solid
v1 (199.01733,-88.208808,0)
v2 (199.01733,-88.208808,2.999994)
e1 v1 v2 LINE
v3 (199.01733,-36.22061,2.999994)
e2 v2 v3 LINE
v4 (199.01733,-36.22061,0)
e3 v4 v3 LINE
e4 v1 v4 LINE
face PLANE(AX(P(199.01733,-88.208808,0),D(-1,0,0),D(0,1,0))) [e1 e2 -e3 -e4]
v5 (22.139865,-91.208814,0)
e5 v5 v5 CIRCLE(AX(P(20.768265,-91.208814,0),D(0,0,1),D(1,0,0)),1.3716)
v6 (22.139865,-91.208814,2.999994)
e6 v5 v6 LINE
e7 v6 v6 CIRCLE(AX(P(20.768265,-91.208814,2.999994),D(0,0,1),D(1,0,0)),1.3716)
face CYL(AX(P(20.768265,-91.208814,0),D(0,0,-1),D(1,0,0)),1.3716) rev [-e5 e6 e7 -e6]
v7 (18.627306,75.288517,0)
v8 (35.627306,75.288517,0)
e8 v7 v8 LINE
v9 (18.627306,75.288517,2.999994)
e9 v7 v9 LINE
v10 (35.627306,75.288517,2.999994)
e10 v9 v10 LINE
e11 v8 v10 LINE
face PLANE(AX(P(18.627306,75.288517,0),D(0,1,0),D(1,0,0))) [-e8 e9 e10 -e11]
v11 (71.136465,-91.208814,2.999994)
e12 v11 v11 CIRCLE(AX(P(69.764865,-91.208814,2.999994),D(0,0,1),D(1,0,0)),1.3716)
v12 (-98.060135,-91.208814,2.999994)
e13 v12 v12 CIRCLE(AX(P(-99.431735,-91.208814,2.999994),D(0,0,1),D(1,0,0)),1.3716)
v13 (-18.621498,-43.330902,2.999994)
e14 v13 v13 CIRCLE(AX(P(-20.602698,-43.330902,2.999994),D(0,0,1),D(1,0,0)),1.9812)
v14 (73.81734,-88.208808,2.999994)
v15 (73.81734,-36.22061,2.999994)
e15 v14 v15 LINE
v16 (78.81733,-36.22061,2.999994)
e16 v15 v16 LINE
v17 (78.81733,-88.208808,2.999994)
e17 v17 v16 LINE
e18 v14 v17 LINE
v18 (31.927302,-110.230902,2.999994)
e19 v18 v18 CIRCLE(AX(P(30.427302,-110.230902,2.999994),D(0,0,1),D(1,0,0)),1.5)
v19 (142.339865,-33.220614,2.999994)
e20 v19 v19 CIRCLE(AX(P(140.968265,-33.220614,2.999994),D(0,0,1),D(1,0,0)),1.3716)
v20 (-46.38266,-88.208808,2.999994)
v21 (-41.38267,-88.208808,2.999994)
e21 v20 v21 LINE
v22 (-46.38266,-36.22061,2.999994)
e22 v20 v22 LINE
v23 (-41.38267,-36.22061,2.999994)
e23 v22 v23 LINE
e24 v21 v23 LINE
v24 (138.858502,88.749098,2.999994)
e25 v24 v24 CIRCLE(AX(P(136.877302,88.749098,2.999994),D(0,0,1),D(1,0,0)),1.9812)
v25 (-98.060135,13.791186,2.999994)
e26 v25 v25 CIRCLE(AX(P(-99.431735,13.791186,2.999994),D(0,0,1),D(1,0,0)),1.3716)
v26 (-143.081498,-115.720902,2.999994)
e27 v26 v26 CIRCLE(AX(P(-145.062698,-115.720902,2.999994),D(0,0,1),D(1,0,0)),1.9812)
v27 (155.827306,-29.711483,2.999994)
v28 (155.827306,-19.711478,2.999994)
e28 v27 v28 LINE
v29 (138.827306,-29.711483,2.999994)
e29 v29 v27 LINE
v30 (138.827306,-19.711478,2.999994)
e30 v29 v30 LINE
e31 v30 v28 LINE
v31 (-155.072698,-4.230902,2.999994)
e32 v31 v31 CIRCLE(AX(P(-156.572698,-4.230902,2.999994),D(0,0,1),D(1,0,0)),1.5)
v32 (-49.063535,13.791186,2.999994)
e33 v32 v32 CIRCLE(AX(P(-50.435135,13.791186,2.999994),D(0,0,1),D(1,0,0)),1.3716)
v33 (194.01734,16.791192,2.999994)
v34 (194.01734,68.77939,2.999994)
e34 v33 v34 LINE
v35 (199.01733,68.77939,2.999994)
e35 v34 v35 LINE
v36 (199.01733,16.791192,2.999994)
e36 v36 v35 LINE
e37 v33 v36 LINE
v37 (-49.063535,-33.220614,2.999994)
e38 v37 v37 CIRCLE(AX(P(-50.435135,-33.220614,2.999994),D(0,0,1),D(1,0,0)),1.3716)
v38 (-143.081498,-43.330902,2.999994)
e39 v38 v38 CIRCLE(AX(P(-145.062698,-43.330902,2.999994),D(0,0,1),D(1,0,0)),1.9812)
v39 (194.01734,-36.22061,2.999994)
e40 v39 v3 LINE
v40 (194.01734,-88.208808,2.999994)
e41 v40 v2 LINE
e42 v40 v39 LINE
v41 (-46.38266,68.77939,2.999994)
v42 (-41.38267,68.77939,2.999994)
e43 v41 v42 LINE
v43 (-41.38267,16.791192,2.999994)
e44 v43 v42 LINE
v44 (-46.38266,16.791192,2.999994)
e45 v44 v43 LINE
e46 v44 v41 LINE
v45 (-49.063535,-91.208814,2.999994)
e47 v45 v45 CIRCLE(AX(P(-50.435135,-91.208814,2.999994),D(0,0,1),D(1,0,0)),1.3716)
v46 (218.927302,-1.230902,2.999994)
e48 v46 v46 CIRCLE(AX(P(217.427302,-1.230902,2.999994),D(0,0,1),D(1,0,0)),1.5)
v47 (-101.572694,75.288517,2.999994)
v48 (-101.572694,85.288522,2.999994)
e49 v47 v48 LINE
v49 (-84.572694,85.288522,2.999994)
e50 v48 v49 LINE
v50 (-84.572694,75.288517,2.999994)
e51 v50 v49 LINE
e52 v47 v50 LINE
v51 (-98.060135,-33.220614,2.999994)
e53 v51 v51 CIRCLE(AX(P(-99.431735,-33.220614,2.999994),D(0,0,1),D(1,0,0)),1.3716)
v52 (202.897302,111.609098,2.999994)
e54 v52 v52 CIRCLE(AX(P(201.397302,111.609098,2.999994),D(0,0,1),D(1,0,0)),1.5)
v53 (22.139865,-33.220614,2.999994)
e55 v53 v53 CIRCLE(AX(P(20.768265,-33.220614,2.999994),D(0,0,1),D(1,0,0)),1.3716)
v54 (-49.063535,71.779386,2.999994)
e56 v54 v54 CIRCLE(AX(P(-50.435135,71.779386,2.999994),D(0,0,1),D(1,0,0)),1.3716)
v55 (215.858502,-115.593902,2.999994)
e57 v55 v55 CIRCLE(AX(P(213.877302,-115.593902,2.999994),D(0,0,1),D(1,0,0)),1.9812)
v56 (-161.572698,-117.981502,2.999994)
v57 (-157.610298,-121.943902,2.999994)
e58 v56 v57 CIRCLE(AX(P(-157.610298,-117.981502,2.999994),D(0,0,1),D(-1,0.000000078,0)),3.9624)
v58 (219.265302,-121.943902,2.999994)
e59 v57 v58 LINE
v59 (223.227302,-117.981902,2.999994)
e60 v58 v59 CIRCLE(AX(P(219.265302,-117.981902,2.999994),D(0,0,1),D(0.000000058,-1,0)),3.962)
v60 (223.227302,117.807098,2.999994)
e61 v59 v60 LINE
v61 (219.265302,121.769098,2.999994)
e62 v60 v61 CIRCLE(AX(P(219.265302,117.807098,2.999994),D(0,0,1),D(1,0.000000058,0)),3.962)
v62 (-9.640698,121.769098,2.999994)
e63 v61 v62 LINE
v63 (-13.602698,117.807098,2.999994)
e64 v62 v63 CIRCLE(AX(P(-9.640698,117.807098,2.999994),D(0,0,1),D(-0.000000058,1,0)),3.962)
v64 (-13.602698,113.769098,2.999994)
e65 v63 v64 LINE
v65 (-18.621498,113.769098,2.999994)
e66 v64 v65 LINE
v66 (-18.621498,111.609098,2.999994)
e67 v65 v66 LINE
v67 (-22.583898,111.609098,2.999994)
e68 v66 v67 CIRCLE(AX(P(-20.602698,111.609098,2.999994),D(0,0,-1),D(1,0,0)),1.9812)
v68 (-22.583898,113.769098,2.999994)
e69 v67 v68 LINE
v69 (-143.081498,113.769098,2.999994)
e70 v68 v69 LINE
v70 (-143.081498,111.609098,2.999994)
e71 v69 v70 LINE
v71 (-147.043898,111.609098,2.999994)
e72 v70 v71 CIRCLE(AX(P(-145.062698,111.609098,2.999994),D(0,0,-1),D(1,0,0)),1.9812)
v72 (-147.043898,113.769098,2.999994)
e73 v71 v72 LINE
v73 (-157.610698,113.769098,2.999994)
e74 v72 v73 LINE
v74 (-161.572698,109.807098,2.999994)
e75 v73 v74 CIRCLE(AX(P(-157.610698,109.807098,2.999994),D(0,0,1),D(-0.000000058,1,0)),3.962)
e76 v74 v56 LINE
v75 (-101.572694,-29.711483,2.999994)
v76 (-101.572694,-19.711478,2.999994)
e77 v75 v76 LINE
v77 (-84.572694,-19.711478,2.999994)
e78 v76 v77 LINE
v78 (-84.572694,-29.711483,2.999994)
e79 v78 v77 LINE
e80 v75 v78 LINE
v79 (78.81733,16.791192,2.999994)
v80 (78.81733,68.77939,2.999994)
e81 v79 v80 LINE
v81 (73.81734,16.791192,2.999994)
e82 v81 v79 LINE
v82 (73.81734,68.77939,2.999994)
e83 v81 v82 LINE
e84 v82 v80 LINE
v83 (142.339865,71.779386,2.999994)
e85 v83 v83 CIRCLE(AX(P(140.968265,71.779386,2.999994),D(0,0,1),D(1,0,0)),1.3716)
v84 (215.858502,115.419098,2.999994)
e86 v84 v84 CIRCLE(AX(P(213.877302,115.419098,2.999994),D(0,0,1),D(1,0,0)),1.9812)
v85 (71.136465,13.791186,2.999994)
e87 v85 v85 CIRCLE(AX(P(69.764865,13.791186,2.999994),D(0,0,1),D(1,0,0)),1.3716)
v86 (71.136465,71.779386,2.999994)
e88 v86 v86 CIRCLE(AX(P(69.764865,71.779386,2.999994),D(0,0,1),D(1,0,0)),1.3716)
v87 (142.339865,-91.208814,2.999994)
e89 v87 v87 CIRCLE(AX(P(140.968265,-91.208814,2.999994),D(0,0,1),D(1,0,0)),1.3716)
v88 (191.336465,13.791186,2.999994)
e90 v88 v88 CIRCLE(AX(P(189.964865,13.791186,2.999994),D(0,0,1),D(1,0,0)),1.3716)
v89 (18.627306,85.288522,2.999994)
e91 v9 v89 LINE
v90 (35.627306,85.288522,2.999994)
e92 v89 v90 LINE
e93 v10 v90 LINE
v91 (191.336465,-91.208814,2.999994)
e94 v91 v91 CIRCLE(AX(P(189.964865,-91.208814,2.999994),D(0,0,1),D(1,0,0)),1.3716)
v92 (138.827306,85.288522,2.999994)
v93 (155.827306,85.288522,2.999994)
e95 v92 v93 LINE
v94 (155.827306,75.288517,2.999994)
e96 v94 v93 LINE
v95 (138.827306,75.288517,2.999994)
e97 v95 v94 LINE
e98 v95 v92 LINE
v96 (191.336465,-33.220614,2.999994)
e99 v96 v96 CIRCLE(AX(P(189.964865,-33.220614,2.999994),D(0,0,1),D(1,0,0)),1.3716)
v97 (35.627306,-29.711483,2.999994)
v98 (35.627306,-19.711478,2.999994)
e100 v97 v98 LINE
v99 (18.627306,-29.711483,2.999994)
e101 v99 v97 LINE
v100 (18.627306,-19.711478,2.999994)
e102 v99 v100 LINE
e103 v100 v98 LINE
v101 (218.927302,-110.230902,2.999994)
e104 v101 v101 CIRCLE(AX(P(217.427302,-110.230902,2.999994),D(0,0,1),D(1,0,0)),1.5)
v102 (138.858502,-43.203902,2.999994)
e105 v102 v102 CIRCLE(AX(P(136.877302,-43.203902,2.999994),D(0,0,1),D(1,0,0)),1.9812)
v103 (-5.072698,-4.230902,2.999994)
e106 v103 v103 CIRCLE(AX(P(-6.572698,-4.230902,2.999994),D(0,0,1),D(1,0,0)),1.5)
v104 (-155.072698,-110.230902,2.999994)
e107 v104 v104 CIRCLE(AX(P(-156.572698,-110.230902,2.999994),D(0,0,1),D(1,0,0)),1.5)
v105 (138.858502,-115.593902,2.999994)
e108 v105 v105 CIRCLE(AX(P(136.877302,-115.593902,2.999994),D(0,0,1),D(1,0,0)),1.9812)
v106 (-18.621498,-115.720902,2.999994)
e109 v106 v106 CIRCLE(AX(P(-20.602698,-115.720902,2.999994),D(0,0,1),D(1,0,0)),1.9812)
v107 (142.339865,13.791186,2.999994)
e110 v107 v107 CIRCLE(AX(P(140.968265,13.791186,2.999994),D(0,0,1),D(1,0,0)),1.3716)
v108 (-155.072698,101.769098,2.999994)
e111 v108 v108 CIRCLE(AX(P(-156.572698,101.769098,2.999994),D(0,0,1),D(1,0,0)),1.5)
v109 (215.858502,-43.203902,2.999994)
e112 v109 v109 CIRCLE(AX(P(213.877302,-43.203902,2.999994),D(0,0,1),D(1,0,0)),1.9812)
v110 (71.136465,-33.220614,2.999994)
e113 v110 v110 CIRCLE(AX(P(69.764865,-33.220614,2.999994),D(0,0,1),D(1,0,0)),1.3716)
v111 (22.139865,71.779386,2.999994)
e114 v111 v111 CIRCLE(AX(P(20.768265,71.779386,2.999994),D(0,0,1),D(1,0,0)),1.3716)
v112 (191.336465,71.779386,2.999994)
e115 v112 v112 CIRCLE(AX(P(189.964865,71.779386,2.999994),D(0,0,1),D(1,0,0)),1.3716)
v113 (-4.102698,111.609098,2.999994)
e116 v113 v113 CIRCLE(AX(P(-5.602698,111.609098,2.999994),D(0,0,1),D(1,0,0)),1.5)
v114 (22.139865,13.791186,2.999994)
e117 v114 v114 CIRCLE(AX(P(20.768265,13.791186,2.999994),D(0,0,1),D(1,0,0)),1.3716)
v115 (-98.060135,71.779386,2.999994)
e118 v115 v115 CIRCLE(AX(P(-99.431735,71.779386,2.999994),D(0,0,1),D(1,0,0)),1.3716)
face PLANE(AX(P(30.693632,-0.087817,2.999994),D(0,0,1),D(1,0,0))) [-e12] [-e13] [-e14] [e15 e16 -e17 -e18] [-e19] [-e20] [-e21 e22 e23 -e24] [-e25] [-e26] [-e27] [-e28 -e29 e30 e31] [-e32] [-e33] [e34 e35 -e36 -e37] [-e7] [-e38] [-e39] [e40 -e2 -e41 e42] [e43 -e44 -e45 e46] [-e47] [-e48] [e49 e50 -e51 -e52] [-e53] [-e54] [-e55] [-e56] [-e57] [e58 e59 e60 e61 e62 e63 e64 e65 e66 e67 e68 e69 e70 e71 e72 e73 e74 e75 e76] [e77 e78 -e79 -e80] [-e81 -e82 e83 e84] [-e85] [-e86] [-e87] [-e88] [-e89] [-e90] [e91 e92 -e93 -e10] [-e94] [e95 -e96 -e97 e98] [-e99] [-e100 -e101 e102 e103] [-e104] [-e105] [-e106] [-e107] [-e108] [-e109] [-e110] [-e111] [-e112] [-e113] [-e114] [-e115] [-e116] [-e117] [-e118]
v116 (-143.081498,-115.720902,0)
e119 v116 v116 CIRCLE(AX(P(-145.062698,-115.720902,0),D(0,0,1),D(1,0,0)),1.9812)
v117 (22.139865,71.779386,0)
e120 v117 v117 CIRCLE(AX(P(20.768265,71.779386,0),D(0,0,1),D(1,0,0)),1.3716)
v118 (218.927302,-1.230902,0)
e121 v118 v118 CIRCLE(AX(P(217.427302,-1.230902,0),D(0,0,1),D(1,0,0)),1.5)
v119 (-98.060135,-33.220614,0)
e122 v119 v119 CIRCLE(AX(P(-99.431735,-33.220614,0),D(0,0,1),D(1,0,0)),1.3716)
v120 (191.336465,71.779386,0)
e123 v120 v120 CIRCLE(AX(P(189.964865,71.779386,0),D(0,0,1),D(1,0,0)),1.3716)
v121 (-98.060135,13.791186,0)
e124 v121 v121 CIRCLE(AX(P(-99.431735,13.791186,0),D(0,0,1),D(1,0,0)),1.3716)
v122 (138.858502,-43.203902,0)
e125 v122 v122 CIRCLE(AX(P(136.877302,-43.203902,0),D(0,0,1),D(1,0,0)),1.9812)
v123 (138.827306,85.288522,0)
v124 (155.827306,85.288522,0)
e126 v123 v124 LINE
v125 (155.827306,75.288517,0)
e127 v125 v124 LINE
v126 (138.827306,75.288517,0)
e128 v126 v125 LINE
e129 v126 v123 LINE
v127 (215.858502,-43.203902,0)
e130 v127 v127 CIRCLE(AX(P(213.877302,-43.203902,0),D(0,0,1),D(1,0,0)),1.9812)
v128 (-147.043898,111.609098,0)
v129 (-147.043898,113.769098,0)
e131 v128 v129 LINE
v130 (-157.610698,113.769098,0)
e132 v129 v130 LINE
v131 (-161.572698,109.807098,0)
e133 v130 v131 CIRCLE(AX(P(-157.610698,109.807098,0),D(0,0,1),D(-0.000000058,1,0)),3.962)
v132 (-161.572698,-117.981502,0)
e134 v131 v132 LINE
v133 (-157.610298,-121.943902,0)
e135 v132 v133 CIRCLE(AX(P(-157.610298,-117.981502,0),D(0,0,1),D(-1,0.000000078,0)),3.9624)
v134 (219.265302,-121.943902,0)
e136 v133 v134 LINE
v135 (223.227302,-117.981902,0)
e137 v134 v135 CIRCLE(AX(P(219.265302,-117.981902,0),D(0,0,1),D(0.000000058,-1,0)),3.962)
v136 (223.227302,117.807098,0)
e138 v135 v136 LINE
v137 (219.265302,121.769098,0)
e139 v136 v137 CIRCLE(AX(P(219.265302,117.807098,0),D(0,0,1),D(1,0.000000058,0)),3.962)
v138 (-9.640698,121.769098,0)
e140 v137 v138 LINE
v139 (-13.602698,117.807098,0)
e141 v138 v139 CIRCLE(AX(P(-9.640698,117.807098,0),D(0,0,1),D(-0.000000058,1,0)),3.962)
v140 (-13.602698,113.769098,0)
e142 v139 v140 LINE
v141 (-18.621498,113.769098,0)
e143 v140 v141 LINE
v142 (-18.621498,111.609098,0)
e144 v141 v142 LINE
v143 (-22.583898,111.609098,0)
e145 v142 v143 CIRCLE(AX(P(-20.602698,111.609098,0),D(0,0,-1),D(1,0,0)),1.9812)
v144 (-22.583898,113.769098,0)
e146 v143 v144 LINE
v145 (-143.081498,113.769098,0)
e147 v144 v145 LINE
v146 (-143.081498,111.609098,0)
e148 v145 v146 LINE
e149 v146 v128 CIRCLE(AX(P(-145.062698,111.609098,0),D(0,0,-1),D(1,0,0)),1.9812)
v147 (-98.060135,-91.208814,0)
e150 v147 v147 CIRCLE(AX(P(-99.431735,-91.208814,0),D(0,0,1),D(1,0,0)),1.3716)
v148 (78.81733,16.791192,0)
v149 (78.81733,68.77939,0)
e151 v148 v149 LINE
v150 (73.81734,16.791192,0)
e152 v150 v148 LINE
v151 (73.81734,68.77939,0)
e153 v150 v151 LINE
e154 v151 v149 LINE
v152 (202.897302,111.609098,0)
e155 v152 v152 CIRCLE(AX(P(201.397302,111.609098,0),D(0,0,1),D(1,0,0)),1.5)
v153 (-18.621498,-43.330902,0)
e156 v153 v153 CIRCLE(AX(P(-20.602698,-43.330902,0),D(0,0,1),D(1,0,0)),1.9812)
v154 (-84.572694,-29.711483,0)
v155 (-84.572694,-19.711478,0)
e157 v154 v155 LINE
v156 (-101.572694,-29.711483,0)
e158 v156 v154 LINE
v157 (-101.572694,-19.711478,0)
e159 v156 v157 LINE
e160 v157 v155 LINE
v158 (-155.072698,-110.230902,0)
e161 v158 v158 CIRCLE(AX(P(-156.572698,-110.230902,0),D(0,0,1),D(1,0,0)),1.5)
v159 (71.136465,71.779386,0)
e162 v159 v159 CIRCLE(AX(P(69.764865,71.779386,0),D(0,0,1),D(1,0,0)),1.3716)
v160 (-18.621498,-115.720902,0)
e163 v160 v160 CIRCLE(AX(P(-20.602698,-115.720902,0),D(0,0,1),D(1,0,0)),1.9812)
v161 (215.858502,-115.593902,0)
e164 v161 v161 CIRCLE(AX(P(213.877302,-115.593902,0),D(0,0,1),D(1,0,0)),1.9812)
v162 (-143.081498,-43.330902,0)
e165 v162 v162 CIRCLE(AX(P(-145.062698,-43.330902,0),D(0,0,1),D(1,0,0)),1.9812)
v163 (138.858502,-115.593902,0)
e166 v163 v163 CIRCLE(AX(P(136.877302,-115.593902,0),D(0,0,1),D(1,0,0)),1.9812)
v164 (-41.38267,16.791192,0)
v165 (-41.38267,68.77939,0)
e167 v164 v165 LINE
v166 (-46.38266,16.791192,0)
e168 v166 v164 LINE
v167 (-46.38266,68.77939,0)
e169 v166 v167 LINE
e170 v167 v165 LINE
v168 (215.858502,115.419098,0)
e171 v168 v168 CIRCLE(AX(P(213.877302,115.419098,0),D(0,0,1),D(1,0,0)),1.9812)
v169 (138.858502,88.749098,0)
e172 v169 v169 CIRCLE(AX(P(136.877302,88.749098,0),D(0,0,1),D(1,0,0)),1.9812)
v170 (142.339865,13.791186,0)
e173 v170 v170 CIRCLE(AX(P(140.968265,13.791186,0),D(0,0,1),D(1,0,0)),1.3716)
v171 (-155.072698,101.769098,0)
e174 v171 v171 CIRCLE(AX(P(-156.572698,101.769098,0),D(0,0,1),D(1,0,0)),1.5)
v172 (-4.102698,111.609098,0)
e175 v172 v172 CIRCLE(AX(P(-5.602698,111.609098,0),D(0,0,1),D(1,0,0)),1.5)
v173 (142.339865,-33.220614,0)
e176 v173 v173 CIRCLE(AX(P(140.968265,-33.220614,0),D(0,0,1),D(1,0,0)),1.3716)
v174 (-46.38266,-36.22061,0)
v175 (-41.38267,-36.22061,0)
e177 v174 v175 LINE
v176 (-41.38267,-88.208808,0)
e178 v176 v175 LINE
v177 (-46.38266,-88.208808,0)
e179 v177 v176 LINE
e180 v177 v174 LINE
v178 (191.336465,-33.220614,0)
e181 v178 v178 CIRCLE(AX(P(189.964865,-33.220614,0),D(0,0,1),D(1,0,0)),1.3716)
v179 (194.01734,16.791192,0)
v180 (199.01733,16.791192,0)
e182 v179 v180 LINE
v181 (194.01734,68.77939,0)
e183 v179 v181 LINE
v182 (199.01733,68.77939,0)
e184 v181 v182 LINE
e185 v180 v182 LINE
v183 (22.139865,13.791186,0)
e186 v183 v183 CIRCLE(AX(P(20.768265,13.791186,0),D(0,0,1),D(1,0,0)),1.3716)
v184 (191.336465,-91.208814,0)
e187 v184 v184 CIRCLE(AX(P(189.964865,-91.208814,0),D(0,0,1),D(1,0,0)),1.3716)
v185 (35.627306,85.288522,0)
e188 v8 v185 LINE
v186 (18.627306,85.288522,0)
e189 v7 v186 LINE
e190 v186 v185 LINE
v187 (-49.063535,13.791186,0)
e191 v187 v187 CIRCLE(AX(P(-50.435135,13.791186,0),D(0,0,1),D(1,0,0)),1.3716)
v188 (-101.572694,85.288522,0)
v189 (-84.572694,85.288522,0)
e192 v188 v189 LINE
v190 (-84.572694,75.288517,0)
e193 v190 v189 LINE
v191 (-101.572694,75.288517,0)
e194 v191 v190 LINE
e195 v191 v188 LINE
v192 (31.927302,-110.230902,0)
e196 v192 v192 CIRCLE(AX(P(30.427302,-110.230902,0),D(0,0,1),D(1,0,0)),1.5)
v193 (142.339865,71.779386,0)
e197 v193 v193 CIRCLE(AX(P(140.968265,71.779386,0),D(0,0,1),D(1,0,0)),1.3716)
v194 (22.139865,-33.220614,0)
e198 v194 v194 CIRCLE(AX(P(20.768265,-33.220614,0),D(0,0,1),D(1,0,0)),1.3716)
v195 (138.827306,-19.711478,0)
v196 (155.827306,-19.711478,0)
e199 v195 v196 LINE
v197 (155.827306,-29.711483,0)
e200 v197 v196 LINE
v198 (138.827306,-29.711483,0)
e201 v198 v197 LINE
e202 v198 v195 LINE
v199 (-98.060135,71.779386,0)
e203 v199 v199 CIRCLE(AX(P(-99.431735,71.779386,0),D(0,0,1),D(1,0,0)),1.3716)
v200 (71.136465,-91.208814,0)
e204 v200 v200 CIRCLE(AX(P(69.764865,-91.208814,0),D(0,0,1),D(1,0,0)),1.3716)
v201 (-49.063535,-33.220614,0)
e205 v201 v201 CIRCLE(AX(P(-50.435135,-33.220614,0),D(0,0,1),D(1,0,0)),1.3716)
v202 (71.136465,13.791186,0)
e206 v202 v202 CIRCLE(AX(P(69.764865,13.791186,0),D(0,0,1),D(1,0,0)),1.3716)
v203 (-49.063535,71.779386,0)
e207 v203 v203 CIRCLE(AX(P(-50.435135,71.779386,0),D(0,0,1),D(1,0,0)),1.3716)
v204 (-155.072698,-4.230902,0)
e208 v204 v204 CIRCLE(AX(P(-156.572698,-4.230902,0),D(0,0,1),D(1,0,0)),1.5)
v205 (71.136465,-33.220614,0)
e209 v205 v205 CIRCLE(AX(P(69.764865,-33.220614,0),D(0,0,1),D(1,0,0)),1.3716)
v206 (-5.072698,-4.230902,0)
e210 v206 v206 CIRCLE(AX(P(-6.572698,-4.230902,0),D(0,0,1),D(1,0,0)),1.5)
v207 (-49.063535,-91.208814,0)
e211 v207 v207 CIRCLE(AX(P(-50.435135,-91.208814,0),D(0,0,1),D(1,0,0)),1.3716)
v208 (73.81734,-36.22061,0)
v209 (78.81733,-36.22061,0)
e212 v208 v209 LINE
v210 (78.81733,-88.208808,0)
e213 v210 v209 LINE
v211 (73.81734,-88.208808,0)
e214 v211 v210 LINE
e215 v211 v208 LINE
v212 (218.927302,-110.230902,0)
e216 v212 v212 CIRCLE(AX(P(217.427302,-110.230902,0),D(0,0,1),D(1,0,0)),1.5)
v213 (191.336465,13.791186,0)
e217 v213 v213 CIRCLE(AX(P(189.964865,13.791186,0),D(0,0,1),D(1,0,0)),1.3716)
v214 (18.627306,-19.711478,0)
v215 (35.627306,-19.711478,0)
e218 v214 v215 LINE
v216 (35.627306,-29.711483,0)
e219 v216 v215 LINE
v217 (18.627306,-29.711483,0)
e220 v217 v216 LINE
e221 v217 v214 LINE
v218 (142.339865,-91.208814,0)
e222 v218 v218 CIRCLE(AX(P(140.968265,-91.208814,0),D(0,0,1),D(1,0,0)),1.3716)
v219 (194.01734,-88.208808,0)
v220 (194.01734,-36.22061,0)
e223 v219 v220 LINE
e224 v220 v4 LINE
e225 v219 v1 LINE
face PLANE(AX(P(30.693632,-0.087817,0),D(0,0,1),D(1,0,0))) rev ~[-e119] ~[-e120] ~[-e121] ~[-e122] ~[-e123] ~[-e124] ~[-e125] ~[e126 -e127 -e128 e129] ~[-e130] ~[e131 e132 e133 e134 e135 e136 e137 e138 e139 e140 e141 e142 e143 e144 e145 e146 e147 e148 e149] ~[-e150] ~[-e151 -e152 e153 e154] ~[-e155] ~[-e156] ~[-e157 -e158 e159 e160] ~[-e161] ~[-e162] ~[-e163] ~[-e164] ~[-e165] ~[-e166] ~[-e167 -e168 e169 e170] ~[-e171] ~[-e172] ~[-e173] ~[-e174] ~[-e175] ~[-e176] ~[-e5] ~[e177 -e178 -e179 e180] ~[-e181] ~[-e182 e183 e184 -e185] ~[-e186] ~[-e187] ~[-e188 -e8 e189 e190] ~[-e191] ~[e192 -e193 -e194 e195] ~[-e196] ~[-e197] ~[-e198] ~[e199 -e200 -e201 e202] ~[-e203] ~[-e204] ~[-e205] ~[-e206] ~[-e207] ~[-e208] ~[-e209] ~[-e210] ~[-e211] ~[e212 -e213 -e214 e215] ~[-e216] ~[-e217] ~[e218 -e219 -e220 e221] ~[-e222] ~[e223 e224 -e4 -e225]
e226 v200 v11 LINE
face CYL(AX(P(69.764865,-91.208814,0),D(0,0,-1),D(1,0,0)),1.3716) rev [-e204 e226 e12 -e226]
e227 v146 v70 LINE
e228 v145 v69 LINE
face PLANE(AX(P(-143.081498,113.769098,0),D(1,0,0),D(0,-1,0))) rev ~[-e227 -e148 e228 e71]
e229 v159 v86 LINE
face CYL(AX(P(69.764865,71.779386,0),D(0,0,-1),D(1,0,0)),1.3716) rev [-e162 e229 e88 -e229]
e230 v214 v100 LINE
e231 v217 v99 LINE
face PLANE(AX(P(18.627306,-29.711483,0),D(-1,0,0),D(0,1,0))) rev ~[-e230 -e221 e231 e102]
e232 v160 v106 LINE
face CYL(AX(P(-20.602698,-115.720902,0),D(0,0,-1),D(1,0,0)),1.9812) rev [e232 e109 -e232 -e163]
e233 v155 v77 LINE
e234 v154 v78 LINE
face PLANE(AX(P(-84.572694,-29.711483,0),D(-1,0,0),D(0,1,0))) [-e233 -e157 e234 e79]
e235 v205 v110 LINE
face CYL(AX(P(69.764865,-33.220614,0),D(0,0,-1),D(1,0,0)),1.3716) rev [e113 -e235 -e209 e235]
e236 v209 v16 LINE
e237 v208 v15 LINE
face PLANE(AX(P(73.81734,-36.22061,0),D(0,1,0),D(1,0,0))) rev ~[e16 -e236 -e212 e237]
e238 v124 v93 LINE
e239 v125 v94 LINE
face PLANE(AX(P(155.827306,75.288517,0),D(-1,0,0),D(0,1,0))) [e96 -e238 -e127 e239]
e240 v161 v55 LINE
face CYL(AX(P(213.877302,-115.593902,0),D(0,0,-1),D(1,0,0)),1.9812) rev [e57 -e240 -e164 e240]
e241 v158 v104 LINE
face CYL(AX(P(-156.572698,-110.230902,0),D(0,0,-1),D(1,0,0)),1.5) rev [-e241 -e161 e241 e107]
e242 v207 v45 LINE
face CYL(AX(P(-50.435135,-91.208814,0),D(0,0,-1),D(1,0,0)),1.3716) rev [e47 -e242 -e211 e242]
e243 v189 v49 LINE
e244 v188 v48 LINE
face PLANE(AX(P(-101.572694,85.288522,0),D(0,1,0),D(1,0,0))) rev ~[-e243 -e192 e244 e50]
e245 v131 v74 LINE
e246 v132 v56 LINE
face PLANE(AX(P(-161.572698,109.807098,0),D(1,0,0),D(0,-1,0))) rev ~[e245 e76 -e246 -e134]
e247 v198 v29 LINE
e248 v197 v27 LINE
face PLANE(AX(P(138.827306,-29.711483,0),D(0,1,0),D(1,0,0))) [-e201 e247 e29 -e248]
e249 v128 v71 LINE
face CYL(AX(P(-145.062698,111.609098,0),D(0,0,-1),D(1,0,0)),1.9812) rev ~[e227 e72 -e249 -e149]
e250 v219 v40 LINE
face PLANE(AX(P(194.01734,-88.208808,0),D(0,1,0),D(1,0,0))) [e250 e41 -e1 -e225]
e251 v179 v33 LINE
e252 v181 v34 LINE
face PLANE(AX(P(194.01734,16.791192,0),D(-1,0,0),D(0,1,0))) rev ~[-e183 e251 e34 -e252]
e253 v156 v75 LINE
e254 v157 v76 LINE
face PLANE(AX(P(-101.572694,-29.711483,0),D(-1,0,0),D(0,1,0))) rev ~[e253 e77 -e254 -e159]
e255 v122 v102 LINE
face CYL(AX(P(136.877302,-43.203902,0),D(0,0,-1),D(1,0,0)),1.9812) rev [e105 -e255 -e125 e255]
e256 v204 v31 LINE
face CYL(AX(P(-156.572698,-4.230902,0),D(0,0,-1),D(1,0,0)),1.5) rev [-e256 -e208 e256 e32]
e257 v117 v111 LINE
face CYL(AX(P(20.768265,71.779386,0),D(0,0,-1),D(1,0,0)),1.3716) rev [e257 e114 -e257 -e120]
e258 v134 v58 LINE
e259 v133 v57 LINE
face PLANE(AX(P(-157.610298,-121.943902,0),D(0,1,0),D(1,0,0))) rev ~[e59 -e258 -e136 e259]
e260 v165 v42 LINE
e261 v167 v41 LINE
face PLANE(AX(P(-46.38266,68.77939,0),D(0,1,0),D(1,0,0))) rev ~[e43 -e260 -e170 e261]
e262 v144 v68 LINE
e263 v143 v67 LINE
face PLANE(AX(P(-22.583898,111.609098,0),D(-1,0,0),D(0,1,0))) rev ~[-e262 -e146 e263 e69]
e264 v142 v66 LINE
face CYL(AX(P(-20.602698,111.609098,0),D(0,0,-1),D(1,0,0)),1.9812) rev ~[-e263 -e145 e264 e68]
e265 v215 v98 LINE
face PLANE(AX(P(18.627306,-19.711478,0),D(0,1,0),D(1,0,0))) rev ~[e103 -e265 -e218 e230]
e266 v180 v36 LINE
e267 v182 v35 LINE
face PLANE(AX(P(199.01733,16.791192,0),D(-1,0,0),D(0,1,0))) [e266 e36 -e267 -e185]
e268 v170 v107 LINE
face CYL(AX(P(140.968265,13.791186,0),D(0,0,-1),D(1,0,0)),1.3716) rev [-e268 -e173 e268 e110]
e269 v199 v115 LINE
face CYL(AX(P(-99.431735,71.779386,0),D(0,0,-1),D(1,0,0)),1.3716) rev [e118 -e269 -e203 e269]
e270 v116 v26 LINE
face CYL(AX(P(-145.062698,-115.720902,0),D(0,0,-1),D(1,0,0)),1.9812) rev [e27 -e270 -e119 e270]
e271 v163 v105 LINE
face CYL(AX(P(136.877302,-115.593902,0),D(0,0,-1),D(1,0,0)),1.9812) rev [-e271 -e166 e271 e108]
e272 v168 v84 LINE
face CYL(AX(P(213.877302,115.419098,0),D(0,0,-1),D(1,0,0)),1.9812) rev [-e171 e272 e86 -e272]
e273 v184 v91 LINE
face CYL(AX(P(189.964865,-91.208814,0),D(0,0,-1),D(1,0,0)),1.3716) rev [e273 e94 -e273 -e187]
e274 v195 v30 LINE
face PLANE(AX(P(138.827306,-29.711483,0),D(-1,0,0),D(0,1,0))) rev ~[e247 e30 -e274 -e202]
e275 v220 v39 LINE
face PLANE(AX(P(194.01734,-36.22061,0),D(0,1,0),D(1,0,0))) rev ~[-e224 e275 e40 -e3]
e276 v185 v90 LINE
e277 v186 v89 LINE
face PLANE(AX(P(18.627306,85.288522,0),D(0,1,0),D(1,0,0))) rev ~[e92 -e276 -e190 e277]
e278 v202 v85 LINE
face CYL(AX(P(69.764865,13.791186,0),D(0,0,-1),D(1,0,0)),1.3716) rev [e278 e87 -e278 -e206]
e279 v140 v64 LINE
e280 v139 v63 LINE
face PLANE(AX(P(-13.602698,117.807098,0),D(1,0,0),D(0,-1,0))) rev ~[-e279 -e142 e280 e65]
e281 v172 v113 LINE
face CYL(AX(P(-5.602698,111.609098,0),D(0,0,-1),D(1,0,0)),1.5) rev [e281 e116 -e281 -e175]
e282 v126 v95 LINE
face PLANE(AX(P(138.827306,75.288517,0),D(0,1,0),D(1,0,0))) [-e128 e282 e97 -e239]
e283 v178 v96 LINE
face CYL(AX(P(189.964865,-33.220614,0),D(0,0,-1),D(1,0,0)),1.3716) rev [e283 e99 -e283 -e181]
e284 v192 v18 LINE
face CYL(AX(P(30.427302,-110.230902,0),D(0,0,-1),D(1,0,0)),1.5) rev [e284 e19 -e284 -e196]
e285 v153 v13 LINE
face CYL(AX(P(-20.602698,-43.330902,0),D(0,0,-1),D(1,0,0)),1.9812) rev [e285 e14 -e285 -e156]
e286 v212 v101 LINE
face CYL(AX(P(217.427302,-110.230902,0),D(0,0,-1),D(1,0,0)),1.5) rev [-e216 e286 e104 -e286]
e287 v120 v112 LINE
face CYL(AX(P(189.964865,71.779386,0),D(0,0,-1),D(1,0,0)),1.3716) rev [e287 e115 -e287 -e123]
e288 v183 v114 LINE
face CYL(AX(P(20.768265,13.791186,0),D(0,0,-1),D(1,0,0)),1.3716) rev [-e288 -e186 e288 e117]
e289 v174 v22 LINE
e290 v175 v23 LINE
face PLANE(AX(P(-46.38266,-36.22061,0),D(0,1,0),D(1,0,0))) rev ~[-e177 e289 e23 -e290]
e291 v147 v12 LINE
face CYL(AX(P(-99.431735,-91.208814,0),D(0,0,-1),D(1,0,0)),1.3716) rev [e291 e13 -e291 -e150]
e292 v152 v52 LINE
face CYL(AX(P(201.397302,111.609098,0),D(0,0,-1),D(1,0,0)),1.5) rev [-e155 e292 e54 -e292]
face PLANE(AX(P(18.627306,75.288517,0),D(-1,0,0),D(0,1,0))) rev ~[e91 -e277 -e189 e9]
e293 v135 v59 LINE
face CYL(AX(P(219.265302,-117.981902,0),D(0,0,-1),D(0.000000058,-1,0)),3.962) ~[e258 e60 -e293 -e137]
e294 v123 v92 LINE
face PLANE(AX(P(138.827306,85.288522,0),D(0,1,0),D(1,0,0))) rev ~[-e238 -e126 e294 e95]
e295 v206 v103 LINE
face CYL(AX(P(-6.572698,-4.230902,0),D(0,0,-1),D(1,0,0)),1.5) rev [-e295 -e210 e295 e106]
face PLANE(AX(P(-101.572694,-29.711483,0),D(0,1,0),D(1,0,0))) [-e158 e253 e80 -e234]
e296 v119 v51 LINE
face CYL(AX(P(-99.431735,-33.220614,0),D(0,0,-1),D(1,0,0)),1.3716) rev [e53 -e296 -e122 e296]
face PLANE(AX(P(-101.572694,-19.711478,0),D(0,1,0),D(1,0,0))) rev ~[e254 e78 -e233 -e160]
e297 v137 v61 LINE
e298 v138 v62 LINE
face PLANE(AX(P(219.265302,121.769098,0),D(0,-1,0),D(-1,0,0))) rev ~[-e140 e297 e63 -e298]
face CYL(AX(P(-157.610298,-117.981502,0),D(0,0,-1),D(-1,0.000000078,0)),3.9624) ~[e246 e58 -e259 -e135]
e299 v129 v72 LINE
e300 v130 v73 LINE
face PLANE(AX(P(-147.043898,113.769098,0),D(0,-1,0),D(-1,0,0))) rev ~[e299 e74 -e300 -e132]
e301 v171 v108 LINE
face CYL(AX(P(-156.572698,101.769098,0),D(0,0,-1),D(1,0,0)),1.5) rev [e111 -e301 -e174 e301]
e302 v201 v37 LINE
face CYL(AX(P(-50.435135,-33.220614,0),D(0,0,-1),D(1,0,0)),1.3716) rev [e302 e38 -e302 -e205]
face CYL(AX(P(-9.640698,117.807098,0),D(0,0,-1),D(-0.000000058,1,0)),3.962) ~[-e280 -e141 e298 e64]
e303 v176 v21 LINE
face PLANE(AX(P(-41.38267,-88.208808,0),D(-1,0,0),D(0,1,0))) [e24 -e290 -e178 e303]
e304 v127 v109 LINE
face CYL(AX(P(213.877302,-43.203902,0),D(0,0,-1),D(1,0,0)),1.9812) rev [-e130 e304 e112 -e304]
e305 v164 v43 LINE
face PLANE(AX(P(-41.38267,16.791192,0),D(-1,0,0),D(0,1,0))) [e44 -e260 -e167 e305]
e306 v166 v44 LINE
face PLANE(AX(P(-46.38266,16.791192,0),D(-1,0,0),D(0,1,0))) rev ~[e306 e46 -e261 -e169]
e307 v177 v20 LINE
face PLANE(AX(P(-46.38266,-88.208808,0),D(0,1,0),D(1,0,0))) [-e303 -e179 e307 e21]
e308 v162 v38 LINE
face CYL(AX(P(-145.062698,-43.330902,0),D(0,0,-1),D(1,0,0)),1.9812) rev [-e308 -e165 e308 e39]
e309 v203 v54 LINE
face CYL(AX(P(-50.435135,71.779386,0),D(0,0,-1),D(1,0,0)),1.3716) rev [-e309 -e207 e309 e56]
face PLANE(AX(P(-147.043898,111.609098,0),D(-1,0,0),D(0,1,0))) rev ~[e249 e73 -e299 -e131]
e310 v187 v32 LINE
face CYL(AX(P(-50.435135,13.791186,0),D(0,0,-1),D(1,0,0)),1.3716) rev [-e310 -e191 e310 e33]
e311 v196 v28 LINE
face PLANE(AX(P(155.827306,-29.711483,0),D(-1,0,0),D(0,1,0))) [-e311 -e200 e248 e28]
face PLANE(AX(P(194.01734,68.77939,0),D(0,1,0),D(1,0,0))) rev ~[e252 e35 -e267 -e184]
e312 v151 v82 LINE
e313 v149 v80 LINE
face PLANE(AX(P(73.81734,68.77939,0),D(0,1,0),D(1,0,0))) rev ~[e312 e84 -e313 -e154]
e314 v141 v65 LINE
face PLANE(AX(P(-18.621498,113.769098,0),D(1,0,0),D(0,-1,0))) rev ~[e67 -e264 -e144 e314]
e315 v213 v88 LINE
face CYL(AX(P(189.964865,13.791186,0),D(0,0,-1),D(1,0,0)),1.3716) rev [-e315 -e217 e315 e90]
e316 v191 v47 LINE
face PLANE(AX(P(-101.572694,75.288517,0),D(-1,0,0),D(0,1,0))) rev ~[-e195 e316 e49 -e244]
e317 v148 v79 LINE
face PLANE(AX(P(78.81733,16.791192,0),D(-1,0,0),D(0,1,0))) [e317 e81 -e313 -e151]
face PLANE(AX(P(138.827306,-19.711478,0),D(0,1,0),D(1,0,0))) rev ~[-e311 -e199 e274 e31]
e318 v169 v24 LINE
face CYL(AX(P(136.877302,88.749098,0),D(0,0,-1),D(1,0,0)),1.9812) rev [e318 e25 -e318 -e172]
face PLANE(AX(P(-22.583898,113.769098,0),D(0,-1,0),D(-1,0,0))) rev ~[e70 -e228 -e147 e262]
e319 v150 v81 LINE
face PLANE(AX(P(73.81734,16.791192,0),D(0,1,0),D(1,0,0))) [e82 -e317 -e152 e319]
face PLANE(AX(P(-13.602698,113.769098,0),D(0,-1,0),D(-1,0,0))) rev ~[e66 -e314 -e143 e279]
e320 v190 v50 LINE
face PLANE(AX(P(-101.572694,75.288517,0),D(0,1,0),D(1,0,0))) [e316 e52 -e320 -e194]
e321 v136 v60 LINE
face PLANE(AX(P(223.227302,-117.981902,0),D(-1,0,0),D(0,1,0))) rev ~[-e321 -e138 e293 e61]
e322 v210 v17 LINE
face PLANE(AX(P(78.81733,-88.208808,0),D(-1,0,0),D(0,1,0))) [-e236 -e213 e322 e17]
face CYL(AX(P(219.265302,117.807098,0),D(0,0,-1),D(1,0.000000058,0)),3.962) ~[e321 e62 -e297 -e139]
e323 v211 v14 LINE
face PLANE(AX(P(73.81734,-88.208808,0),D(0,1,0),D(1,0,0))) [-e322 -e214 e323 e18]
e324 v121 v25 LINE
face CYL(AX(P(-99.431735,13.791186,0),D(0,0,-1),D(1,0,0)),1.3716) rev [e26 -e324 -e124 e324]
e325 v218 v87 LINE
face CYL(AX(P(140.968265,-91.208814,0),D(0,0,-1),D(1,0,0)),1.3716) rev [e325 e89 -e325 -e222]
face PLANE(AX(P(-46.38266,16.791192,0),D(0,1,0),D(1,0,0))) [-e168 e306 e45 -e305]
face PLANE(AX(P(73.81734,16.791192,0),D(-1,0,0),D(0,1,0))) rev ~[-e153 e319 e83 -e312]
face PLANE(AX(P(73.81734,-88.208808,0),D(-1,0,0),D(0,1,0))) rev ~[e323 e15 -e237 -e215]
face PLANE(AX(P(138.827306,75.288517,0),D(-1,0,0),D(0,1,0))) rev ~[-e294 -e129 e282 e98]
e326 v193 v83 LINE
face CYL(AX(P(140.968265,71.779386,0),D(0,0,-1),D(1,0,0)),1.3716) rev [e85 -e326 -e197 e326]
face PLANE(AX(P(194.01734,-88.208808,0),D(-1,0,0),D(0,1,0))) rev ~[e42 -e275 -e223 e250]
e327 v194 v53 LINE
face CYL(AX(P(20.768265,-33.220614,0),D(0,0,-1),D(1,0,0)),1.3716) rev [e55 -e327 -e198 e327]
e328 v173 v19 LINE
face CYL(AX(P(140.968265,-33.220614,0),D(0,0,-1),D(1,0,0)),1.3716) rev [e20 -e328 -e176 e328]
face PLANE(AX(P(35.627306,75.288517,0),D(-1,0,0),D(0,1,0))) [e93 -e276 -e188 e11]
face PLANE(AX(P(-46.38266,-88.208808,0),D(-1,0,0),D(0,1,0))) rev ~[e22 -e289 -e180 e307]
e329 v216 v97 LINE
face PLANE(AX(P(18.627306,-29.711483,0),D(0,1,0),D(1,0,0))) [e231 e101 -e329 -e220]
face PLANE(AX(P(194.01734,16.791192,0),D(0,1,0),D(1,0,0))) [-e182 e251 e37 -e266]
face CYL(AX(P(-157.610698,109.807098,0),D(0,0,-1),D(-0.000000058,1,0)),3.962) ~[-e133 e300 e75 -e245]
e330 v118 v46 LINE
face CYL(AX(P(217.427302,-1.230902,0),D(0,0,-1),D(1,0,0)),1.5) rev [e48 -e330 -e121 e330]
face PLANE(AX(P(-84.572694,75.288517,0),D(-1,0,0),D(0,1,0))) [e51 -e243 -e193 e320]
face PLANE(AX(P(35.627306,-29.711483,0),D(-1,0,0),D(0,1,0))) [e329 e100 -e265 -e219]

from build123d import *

# Parameters (mm, degrees)
F0_R     = 1.9812
F0_R_2   = 1.5
F0_R_3   = 1.3716
F0_W     = 4.99999
F0_H     = 51.988198
F0_W_2   = 17
F0_H_2   = 10.000005
F1_DEPTH = 2.999994


with BuildPart() as f1:
    # F0 (on Top) → F1 (new body)
    with BuildSketch(Plane.XY):
        with BuildLine():
            ThreePointArc((-161.572698, -117.981502), (-160.412138, -120.783342), (-157.610298, -121.943902))
            Line((-157.610298, -121.943902), (139.264902, -121.943902))
            Line((139.264902, -121.943902), (219.265302, -121.943902))
            ThreePointArc((219.265302, -121.943902), (222.066859, -120.783459), (223.227302, -117.981902))
            Line((223.227302, -117.981902), (223.227302, 117.807098))
            ThreePointArc((223.227302, 117.807098), (222.066859, 120.608655), (219.265302, 121.769098))
            Line((219.265302, 121.769098), (143.227302, 121.769098))
            Line((143.227302, 121.769098), (-9.640698, 121.769098))
            ThreePointArc((-9.640698, 121.769098), (-12.442255, 120.608655), (-13.602698, 117.807098))
            Line((-13.602698, 117.807098), (-13.602698, 113.769098))
            Line((-13.602698, 113.769098), (-18.621498, 113.769098))
            Line((-18.621498, 113.769098), (-18.621498, 111.609098))
            ThreePointArc((-18.621498, 111.609098), (-20.602698, 109.627898), (-22.583898, 111.609098))
            Line((-22.583898, 111.609098), (-22.583898, 113.769098))
            Line((-22.583898, 113.769098), (-143.081498, 113.769098))
            Line((-143.081498, 113.769098), (-143.081498, 111.609098))
            ThreePointArc((-143.081498, 111.609098), (-145.062698, 109.627898), (-147.043898, 111.609098))
            Line((-147.043898, 111.609098), (-147.043898, 113.769098))
            Line((-147.043898, 113.769098), (-157.610698, 113.769098))
            ThreePointArc((-157.610698, 113.769098), (-160.412255, 112.608655), (-161.572698, 109.807098))
            Line((-161.572698, 109.807098), (-161.572698, -117.981502))
        make_face()
        with Locations((-145.062698, -115.720902)):
            Circle(F0_R, mode=Mode.SUBTRACT)
        with Locations((-156.572698, -110.230902)):
            Circle(F0_R_2, mode=Mode.SUBTRACT)
        with Locations((-99.431735, -91.208814)):
            Circle(F0_R_3, mode=Mode.SUBTRACT)
        with Locations((-20.602698, -115.720902)):
            Circle(F0_R, mode=Mode.SUBTRACT)
        with Locations((30.427302, -110.230902)):
            Circle(F0_R_2, mode=Mode.SUBTRACT)
        with Locations((-50.435135, -91.208814)):
            Circle(F0_R_3, mode=Mode.SUBTRACT)
        with Locations((-43.882665, -62.214709)):
            Rectangle(F0_W, F0_H, mode=Mode.SUBTRACT)
        with Locations((20.768265, -91.208814)):
            Circle(F0_R_3, mode=Mode.SUBTRACT)
        with Locations((-145.062698, -43.330902)):
            Circle(F0_R, mode=Mode.SUBTRACT)
        with Locations((-99.431735, -33.220614)):
            Circle(F0_R_3, mode=Mode.SUBTRACT)
        with Locations((-156.572698, -4.230902)):
            Circle(F0_R_2, mode=Mode.SUBTRACT)
        with Locations((-93.072694, -24.711481)):
            Rectangle(F0_W_2, F0_H_2, mode=Mode.SUBTRACT)
        with Locations((-50.435135, -33.220614)):
            Circle(F0_R_3, mode=Mode.SUBTRACT)
        with Locations((-20.602698, -43.330902)):
            Circle(F0_R, mode=Mode.SUBTRACT)
        with Locations((20.768265, -33.220614)):
            Circle(F0_R_3, mode=Mode.SUBTRACT)
        with Locations((27.127306, -24.711481)):
            Rectangle(F0_W_2, F0_H_2, mode=Mode.SUBTRACT)
        with Locations((-6.572698, -4.230902)):
            Circle(F0_R_2, mode=Mode.SUBTRACT)
        with Locations((69.764865, -91.208814)):
            Circle(F0_R_3, mode=Mode.SUBTRACT)
        with Locations((76.317335, -62.214709)):
            Rectangle(F0_W, F0_H, mode=Mode.SUBTRACT)
        with Locations((136.877302, -115.593902)):
            Circle(F0_R, mode=Mode.SUBTRACT)
        with Locations((213.877302, -115.593902)):
            Circle(F0_R, mode=Mode.SUBTRACT)
        with Locations((217.427302, -110.230902)):
            Circle(F0_R_2, mode=Mode.SUBTRACT)
        with Locations((140.968265, -91.208814)):
            Circle(F0_R_3, mode=Mode.SUBTRACT)
        with Locations((189.964865, -91.208814)):
            Circle(F0_R_3, mode=Mode.SUBTRACT)
        with Locations((196.517335, -62.214709)):
            Rectangle(F0_W, F0_H, mode=Mode.SUBTRACT)
        with Locations((69.764865, -33.220614)):
            Circle(F0_R_3, mode=Mode.SUBTRACT)
        with Locations((136.877302, -43.203902)):
            Circle(F0_R, mode=Mode.SUBTRACT)
        with Locations((140.968265, -33.220614)):
            Circle(F0_R_3, mode=Mode.SUBTRACT)
        with Locations((189.964865, -33.220614)):
            Circle(F0_R_3, mode=Mode.SUBTRACT)
        with Locations((213.877302, -43.203902)):
            Circle(F0_R, mode=Mode.SUBTRACT)
        with Locations((147.327306, -24.711481)):
            Rectangle(F0_W_2, F0_H_2, mode=Mode.SUBTRACT)
        with Locations((217.427302, -1.230902)):
            Circle(F0_R_2, mode=Mode.SUBTRACT)
        with Locations((-99.431735, 13.791186)):
            Circle(F0_R_3, mode=Mode.SUBTRACT)
        with Locations((-50.435135, 13.791186)):
            Circle(F0_R_3, mode=Mode.SUBTRACT)
        with Locations((20.768265, 13.791186)):
            Circle(F0_R_3, mode=Mode.SUBTRACT)
        with Locations((-43.882665, 42.785291)):
            Rectangle(F0_W, F0_H, mode=Mode.SUBTRACT)
        with Locations((-99.431735, 71.779386)):
            Circle(F0_R_3, mode=Mode.SUBTRACT)
        with Locations((-93.072694, 80.288519)):
            Rectangle(F0_W_2, F0_H_2, mode=Mode.SUBTRACT)
        with Locations((-156.572698, 101.769098)):
            Circle(F0_R_2, mode=Mode.SUBTRACT)
        with Locations((-50.435135, 71.779386)):
            Circle(F0_R_3, mode=Mode.SUBTRACT)
        with Locations((20.768265, 71.779386)):
            Circle(F0_R_3, mode=Mode.SUBTRACT)
        with Locations((27.127306, 80.288519)):
            Rectangle(F0_W_2, F0_H_2, mode=Mode.SUBTRACT)
        with Locations((-5.602698, 111.609098)):
            Circle(F0_R_2, mode=Mode.SUBTRACT)
        with Locations((69.764865, 13.791186)):
            Circle(F0_R_3, mode=Mode.SUBTRACT)
        with Locations((76.317335, 42.785291)):
            Rectangle(F0_W, F0_H, mode=Mode.SUBTRACT)
        with Locations((140.968265, 13.791186)):
            Circle(F0_R_3, mode=Mode.SUBTRACT)
        with Locations((189.964865, 13.791186)):
            Circle(F0_R_3, mode=Mode.SUBTRACT)
        with Locations((196.517335, 42.785291)):
            Rectangle(F0_W, F0_H, mode=Mode.SUBTRACT)
        with Locations((69.764865, 71.779386)):
            Circle(F0_R_3, mode=Mode.SUBTRACT)
        with Locations((140.968265, 71.779386)):
            Circle(F0_R_3, mode=Mode.SUBTRACT)
        with Locations((147.327306, 80.288519)):
            Rectangle(F0_W_2, F0_H_2, mode=Mode.SUBTRACT)
        with Locations((136.877302, 88.749098)):
            Circle(F0_R, mode=Mode.SUBTRACT)
        with Locations((189.964865, 71.779386)):
            Circle(F0_R_3, mode=Mode.SUBTRACT)
        with Locations((201.397302, 111.609098)):
            Circle(F0_R_2, mode=Mode.SUBTRACT)
        with Locations((213.877302, 115.419098)):
            Circle(F0_R, mode=Mode.SUBTRACT)
    extrude(amount=F1_DEPTH)


solid = f1.part
